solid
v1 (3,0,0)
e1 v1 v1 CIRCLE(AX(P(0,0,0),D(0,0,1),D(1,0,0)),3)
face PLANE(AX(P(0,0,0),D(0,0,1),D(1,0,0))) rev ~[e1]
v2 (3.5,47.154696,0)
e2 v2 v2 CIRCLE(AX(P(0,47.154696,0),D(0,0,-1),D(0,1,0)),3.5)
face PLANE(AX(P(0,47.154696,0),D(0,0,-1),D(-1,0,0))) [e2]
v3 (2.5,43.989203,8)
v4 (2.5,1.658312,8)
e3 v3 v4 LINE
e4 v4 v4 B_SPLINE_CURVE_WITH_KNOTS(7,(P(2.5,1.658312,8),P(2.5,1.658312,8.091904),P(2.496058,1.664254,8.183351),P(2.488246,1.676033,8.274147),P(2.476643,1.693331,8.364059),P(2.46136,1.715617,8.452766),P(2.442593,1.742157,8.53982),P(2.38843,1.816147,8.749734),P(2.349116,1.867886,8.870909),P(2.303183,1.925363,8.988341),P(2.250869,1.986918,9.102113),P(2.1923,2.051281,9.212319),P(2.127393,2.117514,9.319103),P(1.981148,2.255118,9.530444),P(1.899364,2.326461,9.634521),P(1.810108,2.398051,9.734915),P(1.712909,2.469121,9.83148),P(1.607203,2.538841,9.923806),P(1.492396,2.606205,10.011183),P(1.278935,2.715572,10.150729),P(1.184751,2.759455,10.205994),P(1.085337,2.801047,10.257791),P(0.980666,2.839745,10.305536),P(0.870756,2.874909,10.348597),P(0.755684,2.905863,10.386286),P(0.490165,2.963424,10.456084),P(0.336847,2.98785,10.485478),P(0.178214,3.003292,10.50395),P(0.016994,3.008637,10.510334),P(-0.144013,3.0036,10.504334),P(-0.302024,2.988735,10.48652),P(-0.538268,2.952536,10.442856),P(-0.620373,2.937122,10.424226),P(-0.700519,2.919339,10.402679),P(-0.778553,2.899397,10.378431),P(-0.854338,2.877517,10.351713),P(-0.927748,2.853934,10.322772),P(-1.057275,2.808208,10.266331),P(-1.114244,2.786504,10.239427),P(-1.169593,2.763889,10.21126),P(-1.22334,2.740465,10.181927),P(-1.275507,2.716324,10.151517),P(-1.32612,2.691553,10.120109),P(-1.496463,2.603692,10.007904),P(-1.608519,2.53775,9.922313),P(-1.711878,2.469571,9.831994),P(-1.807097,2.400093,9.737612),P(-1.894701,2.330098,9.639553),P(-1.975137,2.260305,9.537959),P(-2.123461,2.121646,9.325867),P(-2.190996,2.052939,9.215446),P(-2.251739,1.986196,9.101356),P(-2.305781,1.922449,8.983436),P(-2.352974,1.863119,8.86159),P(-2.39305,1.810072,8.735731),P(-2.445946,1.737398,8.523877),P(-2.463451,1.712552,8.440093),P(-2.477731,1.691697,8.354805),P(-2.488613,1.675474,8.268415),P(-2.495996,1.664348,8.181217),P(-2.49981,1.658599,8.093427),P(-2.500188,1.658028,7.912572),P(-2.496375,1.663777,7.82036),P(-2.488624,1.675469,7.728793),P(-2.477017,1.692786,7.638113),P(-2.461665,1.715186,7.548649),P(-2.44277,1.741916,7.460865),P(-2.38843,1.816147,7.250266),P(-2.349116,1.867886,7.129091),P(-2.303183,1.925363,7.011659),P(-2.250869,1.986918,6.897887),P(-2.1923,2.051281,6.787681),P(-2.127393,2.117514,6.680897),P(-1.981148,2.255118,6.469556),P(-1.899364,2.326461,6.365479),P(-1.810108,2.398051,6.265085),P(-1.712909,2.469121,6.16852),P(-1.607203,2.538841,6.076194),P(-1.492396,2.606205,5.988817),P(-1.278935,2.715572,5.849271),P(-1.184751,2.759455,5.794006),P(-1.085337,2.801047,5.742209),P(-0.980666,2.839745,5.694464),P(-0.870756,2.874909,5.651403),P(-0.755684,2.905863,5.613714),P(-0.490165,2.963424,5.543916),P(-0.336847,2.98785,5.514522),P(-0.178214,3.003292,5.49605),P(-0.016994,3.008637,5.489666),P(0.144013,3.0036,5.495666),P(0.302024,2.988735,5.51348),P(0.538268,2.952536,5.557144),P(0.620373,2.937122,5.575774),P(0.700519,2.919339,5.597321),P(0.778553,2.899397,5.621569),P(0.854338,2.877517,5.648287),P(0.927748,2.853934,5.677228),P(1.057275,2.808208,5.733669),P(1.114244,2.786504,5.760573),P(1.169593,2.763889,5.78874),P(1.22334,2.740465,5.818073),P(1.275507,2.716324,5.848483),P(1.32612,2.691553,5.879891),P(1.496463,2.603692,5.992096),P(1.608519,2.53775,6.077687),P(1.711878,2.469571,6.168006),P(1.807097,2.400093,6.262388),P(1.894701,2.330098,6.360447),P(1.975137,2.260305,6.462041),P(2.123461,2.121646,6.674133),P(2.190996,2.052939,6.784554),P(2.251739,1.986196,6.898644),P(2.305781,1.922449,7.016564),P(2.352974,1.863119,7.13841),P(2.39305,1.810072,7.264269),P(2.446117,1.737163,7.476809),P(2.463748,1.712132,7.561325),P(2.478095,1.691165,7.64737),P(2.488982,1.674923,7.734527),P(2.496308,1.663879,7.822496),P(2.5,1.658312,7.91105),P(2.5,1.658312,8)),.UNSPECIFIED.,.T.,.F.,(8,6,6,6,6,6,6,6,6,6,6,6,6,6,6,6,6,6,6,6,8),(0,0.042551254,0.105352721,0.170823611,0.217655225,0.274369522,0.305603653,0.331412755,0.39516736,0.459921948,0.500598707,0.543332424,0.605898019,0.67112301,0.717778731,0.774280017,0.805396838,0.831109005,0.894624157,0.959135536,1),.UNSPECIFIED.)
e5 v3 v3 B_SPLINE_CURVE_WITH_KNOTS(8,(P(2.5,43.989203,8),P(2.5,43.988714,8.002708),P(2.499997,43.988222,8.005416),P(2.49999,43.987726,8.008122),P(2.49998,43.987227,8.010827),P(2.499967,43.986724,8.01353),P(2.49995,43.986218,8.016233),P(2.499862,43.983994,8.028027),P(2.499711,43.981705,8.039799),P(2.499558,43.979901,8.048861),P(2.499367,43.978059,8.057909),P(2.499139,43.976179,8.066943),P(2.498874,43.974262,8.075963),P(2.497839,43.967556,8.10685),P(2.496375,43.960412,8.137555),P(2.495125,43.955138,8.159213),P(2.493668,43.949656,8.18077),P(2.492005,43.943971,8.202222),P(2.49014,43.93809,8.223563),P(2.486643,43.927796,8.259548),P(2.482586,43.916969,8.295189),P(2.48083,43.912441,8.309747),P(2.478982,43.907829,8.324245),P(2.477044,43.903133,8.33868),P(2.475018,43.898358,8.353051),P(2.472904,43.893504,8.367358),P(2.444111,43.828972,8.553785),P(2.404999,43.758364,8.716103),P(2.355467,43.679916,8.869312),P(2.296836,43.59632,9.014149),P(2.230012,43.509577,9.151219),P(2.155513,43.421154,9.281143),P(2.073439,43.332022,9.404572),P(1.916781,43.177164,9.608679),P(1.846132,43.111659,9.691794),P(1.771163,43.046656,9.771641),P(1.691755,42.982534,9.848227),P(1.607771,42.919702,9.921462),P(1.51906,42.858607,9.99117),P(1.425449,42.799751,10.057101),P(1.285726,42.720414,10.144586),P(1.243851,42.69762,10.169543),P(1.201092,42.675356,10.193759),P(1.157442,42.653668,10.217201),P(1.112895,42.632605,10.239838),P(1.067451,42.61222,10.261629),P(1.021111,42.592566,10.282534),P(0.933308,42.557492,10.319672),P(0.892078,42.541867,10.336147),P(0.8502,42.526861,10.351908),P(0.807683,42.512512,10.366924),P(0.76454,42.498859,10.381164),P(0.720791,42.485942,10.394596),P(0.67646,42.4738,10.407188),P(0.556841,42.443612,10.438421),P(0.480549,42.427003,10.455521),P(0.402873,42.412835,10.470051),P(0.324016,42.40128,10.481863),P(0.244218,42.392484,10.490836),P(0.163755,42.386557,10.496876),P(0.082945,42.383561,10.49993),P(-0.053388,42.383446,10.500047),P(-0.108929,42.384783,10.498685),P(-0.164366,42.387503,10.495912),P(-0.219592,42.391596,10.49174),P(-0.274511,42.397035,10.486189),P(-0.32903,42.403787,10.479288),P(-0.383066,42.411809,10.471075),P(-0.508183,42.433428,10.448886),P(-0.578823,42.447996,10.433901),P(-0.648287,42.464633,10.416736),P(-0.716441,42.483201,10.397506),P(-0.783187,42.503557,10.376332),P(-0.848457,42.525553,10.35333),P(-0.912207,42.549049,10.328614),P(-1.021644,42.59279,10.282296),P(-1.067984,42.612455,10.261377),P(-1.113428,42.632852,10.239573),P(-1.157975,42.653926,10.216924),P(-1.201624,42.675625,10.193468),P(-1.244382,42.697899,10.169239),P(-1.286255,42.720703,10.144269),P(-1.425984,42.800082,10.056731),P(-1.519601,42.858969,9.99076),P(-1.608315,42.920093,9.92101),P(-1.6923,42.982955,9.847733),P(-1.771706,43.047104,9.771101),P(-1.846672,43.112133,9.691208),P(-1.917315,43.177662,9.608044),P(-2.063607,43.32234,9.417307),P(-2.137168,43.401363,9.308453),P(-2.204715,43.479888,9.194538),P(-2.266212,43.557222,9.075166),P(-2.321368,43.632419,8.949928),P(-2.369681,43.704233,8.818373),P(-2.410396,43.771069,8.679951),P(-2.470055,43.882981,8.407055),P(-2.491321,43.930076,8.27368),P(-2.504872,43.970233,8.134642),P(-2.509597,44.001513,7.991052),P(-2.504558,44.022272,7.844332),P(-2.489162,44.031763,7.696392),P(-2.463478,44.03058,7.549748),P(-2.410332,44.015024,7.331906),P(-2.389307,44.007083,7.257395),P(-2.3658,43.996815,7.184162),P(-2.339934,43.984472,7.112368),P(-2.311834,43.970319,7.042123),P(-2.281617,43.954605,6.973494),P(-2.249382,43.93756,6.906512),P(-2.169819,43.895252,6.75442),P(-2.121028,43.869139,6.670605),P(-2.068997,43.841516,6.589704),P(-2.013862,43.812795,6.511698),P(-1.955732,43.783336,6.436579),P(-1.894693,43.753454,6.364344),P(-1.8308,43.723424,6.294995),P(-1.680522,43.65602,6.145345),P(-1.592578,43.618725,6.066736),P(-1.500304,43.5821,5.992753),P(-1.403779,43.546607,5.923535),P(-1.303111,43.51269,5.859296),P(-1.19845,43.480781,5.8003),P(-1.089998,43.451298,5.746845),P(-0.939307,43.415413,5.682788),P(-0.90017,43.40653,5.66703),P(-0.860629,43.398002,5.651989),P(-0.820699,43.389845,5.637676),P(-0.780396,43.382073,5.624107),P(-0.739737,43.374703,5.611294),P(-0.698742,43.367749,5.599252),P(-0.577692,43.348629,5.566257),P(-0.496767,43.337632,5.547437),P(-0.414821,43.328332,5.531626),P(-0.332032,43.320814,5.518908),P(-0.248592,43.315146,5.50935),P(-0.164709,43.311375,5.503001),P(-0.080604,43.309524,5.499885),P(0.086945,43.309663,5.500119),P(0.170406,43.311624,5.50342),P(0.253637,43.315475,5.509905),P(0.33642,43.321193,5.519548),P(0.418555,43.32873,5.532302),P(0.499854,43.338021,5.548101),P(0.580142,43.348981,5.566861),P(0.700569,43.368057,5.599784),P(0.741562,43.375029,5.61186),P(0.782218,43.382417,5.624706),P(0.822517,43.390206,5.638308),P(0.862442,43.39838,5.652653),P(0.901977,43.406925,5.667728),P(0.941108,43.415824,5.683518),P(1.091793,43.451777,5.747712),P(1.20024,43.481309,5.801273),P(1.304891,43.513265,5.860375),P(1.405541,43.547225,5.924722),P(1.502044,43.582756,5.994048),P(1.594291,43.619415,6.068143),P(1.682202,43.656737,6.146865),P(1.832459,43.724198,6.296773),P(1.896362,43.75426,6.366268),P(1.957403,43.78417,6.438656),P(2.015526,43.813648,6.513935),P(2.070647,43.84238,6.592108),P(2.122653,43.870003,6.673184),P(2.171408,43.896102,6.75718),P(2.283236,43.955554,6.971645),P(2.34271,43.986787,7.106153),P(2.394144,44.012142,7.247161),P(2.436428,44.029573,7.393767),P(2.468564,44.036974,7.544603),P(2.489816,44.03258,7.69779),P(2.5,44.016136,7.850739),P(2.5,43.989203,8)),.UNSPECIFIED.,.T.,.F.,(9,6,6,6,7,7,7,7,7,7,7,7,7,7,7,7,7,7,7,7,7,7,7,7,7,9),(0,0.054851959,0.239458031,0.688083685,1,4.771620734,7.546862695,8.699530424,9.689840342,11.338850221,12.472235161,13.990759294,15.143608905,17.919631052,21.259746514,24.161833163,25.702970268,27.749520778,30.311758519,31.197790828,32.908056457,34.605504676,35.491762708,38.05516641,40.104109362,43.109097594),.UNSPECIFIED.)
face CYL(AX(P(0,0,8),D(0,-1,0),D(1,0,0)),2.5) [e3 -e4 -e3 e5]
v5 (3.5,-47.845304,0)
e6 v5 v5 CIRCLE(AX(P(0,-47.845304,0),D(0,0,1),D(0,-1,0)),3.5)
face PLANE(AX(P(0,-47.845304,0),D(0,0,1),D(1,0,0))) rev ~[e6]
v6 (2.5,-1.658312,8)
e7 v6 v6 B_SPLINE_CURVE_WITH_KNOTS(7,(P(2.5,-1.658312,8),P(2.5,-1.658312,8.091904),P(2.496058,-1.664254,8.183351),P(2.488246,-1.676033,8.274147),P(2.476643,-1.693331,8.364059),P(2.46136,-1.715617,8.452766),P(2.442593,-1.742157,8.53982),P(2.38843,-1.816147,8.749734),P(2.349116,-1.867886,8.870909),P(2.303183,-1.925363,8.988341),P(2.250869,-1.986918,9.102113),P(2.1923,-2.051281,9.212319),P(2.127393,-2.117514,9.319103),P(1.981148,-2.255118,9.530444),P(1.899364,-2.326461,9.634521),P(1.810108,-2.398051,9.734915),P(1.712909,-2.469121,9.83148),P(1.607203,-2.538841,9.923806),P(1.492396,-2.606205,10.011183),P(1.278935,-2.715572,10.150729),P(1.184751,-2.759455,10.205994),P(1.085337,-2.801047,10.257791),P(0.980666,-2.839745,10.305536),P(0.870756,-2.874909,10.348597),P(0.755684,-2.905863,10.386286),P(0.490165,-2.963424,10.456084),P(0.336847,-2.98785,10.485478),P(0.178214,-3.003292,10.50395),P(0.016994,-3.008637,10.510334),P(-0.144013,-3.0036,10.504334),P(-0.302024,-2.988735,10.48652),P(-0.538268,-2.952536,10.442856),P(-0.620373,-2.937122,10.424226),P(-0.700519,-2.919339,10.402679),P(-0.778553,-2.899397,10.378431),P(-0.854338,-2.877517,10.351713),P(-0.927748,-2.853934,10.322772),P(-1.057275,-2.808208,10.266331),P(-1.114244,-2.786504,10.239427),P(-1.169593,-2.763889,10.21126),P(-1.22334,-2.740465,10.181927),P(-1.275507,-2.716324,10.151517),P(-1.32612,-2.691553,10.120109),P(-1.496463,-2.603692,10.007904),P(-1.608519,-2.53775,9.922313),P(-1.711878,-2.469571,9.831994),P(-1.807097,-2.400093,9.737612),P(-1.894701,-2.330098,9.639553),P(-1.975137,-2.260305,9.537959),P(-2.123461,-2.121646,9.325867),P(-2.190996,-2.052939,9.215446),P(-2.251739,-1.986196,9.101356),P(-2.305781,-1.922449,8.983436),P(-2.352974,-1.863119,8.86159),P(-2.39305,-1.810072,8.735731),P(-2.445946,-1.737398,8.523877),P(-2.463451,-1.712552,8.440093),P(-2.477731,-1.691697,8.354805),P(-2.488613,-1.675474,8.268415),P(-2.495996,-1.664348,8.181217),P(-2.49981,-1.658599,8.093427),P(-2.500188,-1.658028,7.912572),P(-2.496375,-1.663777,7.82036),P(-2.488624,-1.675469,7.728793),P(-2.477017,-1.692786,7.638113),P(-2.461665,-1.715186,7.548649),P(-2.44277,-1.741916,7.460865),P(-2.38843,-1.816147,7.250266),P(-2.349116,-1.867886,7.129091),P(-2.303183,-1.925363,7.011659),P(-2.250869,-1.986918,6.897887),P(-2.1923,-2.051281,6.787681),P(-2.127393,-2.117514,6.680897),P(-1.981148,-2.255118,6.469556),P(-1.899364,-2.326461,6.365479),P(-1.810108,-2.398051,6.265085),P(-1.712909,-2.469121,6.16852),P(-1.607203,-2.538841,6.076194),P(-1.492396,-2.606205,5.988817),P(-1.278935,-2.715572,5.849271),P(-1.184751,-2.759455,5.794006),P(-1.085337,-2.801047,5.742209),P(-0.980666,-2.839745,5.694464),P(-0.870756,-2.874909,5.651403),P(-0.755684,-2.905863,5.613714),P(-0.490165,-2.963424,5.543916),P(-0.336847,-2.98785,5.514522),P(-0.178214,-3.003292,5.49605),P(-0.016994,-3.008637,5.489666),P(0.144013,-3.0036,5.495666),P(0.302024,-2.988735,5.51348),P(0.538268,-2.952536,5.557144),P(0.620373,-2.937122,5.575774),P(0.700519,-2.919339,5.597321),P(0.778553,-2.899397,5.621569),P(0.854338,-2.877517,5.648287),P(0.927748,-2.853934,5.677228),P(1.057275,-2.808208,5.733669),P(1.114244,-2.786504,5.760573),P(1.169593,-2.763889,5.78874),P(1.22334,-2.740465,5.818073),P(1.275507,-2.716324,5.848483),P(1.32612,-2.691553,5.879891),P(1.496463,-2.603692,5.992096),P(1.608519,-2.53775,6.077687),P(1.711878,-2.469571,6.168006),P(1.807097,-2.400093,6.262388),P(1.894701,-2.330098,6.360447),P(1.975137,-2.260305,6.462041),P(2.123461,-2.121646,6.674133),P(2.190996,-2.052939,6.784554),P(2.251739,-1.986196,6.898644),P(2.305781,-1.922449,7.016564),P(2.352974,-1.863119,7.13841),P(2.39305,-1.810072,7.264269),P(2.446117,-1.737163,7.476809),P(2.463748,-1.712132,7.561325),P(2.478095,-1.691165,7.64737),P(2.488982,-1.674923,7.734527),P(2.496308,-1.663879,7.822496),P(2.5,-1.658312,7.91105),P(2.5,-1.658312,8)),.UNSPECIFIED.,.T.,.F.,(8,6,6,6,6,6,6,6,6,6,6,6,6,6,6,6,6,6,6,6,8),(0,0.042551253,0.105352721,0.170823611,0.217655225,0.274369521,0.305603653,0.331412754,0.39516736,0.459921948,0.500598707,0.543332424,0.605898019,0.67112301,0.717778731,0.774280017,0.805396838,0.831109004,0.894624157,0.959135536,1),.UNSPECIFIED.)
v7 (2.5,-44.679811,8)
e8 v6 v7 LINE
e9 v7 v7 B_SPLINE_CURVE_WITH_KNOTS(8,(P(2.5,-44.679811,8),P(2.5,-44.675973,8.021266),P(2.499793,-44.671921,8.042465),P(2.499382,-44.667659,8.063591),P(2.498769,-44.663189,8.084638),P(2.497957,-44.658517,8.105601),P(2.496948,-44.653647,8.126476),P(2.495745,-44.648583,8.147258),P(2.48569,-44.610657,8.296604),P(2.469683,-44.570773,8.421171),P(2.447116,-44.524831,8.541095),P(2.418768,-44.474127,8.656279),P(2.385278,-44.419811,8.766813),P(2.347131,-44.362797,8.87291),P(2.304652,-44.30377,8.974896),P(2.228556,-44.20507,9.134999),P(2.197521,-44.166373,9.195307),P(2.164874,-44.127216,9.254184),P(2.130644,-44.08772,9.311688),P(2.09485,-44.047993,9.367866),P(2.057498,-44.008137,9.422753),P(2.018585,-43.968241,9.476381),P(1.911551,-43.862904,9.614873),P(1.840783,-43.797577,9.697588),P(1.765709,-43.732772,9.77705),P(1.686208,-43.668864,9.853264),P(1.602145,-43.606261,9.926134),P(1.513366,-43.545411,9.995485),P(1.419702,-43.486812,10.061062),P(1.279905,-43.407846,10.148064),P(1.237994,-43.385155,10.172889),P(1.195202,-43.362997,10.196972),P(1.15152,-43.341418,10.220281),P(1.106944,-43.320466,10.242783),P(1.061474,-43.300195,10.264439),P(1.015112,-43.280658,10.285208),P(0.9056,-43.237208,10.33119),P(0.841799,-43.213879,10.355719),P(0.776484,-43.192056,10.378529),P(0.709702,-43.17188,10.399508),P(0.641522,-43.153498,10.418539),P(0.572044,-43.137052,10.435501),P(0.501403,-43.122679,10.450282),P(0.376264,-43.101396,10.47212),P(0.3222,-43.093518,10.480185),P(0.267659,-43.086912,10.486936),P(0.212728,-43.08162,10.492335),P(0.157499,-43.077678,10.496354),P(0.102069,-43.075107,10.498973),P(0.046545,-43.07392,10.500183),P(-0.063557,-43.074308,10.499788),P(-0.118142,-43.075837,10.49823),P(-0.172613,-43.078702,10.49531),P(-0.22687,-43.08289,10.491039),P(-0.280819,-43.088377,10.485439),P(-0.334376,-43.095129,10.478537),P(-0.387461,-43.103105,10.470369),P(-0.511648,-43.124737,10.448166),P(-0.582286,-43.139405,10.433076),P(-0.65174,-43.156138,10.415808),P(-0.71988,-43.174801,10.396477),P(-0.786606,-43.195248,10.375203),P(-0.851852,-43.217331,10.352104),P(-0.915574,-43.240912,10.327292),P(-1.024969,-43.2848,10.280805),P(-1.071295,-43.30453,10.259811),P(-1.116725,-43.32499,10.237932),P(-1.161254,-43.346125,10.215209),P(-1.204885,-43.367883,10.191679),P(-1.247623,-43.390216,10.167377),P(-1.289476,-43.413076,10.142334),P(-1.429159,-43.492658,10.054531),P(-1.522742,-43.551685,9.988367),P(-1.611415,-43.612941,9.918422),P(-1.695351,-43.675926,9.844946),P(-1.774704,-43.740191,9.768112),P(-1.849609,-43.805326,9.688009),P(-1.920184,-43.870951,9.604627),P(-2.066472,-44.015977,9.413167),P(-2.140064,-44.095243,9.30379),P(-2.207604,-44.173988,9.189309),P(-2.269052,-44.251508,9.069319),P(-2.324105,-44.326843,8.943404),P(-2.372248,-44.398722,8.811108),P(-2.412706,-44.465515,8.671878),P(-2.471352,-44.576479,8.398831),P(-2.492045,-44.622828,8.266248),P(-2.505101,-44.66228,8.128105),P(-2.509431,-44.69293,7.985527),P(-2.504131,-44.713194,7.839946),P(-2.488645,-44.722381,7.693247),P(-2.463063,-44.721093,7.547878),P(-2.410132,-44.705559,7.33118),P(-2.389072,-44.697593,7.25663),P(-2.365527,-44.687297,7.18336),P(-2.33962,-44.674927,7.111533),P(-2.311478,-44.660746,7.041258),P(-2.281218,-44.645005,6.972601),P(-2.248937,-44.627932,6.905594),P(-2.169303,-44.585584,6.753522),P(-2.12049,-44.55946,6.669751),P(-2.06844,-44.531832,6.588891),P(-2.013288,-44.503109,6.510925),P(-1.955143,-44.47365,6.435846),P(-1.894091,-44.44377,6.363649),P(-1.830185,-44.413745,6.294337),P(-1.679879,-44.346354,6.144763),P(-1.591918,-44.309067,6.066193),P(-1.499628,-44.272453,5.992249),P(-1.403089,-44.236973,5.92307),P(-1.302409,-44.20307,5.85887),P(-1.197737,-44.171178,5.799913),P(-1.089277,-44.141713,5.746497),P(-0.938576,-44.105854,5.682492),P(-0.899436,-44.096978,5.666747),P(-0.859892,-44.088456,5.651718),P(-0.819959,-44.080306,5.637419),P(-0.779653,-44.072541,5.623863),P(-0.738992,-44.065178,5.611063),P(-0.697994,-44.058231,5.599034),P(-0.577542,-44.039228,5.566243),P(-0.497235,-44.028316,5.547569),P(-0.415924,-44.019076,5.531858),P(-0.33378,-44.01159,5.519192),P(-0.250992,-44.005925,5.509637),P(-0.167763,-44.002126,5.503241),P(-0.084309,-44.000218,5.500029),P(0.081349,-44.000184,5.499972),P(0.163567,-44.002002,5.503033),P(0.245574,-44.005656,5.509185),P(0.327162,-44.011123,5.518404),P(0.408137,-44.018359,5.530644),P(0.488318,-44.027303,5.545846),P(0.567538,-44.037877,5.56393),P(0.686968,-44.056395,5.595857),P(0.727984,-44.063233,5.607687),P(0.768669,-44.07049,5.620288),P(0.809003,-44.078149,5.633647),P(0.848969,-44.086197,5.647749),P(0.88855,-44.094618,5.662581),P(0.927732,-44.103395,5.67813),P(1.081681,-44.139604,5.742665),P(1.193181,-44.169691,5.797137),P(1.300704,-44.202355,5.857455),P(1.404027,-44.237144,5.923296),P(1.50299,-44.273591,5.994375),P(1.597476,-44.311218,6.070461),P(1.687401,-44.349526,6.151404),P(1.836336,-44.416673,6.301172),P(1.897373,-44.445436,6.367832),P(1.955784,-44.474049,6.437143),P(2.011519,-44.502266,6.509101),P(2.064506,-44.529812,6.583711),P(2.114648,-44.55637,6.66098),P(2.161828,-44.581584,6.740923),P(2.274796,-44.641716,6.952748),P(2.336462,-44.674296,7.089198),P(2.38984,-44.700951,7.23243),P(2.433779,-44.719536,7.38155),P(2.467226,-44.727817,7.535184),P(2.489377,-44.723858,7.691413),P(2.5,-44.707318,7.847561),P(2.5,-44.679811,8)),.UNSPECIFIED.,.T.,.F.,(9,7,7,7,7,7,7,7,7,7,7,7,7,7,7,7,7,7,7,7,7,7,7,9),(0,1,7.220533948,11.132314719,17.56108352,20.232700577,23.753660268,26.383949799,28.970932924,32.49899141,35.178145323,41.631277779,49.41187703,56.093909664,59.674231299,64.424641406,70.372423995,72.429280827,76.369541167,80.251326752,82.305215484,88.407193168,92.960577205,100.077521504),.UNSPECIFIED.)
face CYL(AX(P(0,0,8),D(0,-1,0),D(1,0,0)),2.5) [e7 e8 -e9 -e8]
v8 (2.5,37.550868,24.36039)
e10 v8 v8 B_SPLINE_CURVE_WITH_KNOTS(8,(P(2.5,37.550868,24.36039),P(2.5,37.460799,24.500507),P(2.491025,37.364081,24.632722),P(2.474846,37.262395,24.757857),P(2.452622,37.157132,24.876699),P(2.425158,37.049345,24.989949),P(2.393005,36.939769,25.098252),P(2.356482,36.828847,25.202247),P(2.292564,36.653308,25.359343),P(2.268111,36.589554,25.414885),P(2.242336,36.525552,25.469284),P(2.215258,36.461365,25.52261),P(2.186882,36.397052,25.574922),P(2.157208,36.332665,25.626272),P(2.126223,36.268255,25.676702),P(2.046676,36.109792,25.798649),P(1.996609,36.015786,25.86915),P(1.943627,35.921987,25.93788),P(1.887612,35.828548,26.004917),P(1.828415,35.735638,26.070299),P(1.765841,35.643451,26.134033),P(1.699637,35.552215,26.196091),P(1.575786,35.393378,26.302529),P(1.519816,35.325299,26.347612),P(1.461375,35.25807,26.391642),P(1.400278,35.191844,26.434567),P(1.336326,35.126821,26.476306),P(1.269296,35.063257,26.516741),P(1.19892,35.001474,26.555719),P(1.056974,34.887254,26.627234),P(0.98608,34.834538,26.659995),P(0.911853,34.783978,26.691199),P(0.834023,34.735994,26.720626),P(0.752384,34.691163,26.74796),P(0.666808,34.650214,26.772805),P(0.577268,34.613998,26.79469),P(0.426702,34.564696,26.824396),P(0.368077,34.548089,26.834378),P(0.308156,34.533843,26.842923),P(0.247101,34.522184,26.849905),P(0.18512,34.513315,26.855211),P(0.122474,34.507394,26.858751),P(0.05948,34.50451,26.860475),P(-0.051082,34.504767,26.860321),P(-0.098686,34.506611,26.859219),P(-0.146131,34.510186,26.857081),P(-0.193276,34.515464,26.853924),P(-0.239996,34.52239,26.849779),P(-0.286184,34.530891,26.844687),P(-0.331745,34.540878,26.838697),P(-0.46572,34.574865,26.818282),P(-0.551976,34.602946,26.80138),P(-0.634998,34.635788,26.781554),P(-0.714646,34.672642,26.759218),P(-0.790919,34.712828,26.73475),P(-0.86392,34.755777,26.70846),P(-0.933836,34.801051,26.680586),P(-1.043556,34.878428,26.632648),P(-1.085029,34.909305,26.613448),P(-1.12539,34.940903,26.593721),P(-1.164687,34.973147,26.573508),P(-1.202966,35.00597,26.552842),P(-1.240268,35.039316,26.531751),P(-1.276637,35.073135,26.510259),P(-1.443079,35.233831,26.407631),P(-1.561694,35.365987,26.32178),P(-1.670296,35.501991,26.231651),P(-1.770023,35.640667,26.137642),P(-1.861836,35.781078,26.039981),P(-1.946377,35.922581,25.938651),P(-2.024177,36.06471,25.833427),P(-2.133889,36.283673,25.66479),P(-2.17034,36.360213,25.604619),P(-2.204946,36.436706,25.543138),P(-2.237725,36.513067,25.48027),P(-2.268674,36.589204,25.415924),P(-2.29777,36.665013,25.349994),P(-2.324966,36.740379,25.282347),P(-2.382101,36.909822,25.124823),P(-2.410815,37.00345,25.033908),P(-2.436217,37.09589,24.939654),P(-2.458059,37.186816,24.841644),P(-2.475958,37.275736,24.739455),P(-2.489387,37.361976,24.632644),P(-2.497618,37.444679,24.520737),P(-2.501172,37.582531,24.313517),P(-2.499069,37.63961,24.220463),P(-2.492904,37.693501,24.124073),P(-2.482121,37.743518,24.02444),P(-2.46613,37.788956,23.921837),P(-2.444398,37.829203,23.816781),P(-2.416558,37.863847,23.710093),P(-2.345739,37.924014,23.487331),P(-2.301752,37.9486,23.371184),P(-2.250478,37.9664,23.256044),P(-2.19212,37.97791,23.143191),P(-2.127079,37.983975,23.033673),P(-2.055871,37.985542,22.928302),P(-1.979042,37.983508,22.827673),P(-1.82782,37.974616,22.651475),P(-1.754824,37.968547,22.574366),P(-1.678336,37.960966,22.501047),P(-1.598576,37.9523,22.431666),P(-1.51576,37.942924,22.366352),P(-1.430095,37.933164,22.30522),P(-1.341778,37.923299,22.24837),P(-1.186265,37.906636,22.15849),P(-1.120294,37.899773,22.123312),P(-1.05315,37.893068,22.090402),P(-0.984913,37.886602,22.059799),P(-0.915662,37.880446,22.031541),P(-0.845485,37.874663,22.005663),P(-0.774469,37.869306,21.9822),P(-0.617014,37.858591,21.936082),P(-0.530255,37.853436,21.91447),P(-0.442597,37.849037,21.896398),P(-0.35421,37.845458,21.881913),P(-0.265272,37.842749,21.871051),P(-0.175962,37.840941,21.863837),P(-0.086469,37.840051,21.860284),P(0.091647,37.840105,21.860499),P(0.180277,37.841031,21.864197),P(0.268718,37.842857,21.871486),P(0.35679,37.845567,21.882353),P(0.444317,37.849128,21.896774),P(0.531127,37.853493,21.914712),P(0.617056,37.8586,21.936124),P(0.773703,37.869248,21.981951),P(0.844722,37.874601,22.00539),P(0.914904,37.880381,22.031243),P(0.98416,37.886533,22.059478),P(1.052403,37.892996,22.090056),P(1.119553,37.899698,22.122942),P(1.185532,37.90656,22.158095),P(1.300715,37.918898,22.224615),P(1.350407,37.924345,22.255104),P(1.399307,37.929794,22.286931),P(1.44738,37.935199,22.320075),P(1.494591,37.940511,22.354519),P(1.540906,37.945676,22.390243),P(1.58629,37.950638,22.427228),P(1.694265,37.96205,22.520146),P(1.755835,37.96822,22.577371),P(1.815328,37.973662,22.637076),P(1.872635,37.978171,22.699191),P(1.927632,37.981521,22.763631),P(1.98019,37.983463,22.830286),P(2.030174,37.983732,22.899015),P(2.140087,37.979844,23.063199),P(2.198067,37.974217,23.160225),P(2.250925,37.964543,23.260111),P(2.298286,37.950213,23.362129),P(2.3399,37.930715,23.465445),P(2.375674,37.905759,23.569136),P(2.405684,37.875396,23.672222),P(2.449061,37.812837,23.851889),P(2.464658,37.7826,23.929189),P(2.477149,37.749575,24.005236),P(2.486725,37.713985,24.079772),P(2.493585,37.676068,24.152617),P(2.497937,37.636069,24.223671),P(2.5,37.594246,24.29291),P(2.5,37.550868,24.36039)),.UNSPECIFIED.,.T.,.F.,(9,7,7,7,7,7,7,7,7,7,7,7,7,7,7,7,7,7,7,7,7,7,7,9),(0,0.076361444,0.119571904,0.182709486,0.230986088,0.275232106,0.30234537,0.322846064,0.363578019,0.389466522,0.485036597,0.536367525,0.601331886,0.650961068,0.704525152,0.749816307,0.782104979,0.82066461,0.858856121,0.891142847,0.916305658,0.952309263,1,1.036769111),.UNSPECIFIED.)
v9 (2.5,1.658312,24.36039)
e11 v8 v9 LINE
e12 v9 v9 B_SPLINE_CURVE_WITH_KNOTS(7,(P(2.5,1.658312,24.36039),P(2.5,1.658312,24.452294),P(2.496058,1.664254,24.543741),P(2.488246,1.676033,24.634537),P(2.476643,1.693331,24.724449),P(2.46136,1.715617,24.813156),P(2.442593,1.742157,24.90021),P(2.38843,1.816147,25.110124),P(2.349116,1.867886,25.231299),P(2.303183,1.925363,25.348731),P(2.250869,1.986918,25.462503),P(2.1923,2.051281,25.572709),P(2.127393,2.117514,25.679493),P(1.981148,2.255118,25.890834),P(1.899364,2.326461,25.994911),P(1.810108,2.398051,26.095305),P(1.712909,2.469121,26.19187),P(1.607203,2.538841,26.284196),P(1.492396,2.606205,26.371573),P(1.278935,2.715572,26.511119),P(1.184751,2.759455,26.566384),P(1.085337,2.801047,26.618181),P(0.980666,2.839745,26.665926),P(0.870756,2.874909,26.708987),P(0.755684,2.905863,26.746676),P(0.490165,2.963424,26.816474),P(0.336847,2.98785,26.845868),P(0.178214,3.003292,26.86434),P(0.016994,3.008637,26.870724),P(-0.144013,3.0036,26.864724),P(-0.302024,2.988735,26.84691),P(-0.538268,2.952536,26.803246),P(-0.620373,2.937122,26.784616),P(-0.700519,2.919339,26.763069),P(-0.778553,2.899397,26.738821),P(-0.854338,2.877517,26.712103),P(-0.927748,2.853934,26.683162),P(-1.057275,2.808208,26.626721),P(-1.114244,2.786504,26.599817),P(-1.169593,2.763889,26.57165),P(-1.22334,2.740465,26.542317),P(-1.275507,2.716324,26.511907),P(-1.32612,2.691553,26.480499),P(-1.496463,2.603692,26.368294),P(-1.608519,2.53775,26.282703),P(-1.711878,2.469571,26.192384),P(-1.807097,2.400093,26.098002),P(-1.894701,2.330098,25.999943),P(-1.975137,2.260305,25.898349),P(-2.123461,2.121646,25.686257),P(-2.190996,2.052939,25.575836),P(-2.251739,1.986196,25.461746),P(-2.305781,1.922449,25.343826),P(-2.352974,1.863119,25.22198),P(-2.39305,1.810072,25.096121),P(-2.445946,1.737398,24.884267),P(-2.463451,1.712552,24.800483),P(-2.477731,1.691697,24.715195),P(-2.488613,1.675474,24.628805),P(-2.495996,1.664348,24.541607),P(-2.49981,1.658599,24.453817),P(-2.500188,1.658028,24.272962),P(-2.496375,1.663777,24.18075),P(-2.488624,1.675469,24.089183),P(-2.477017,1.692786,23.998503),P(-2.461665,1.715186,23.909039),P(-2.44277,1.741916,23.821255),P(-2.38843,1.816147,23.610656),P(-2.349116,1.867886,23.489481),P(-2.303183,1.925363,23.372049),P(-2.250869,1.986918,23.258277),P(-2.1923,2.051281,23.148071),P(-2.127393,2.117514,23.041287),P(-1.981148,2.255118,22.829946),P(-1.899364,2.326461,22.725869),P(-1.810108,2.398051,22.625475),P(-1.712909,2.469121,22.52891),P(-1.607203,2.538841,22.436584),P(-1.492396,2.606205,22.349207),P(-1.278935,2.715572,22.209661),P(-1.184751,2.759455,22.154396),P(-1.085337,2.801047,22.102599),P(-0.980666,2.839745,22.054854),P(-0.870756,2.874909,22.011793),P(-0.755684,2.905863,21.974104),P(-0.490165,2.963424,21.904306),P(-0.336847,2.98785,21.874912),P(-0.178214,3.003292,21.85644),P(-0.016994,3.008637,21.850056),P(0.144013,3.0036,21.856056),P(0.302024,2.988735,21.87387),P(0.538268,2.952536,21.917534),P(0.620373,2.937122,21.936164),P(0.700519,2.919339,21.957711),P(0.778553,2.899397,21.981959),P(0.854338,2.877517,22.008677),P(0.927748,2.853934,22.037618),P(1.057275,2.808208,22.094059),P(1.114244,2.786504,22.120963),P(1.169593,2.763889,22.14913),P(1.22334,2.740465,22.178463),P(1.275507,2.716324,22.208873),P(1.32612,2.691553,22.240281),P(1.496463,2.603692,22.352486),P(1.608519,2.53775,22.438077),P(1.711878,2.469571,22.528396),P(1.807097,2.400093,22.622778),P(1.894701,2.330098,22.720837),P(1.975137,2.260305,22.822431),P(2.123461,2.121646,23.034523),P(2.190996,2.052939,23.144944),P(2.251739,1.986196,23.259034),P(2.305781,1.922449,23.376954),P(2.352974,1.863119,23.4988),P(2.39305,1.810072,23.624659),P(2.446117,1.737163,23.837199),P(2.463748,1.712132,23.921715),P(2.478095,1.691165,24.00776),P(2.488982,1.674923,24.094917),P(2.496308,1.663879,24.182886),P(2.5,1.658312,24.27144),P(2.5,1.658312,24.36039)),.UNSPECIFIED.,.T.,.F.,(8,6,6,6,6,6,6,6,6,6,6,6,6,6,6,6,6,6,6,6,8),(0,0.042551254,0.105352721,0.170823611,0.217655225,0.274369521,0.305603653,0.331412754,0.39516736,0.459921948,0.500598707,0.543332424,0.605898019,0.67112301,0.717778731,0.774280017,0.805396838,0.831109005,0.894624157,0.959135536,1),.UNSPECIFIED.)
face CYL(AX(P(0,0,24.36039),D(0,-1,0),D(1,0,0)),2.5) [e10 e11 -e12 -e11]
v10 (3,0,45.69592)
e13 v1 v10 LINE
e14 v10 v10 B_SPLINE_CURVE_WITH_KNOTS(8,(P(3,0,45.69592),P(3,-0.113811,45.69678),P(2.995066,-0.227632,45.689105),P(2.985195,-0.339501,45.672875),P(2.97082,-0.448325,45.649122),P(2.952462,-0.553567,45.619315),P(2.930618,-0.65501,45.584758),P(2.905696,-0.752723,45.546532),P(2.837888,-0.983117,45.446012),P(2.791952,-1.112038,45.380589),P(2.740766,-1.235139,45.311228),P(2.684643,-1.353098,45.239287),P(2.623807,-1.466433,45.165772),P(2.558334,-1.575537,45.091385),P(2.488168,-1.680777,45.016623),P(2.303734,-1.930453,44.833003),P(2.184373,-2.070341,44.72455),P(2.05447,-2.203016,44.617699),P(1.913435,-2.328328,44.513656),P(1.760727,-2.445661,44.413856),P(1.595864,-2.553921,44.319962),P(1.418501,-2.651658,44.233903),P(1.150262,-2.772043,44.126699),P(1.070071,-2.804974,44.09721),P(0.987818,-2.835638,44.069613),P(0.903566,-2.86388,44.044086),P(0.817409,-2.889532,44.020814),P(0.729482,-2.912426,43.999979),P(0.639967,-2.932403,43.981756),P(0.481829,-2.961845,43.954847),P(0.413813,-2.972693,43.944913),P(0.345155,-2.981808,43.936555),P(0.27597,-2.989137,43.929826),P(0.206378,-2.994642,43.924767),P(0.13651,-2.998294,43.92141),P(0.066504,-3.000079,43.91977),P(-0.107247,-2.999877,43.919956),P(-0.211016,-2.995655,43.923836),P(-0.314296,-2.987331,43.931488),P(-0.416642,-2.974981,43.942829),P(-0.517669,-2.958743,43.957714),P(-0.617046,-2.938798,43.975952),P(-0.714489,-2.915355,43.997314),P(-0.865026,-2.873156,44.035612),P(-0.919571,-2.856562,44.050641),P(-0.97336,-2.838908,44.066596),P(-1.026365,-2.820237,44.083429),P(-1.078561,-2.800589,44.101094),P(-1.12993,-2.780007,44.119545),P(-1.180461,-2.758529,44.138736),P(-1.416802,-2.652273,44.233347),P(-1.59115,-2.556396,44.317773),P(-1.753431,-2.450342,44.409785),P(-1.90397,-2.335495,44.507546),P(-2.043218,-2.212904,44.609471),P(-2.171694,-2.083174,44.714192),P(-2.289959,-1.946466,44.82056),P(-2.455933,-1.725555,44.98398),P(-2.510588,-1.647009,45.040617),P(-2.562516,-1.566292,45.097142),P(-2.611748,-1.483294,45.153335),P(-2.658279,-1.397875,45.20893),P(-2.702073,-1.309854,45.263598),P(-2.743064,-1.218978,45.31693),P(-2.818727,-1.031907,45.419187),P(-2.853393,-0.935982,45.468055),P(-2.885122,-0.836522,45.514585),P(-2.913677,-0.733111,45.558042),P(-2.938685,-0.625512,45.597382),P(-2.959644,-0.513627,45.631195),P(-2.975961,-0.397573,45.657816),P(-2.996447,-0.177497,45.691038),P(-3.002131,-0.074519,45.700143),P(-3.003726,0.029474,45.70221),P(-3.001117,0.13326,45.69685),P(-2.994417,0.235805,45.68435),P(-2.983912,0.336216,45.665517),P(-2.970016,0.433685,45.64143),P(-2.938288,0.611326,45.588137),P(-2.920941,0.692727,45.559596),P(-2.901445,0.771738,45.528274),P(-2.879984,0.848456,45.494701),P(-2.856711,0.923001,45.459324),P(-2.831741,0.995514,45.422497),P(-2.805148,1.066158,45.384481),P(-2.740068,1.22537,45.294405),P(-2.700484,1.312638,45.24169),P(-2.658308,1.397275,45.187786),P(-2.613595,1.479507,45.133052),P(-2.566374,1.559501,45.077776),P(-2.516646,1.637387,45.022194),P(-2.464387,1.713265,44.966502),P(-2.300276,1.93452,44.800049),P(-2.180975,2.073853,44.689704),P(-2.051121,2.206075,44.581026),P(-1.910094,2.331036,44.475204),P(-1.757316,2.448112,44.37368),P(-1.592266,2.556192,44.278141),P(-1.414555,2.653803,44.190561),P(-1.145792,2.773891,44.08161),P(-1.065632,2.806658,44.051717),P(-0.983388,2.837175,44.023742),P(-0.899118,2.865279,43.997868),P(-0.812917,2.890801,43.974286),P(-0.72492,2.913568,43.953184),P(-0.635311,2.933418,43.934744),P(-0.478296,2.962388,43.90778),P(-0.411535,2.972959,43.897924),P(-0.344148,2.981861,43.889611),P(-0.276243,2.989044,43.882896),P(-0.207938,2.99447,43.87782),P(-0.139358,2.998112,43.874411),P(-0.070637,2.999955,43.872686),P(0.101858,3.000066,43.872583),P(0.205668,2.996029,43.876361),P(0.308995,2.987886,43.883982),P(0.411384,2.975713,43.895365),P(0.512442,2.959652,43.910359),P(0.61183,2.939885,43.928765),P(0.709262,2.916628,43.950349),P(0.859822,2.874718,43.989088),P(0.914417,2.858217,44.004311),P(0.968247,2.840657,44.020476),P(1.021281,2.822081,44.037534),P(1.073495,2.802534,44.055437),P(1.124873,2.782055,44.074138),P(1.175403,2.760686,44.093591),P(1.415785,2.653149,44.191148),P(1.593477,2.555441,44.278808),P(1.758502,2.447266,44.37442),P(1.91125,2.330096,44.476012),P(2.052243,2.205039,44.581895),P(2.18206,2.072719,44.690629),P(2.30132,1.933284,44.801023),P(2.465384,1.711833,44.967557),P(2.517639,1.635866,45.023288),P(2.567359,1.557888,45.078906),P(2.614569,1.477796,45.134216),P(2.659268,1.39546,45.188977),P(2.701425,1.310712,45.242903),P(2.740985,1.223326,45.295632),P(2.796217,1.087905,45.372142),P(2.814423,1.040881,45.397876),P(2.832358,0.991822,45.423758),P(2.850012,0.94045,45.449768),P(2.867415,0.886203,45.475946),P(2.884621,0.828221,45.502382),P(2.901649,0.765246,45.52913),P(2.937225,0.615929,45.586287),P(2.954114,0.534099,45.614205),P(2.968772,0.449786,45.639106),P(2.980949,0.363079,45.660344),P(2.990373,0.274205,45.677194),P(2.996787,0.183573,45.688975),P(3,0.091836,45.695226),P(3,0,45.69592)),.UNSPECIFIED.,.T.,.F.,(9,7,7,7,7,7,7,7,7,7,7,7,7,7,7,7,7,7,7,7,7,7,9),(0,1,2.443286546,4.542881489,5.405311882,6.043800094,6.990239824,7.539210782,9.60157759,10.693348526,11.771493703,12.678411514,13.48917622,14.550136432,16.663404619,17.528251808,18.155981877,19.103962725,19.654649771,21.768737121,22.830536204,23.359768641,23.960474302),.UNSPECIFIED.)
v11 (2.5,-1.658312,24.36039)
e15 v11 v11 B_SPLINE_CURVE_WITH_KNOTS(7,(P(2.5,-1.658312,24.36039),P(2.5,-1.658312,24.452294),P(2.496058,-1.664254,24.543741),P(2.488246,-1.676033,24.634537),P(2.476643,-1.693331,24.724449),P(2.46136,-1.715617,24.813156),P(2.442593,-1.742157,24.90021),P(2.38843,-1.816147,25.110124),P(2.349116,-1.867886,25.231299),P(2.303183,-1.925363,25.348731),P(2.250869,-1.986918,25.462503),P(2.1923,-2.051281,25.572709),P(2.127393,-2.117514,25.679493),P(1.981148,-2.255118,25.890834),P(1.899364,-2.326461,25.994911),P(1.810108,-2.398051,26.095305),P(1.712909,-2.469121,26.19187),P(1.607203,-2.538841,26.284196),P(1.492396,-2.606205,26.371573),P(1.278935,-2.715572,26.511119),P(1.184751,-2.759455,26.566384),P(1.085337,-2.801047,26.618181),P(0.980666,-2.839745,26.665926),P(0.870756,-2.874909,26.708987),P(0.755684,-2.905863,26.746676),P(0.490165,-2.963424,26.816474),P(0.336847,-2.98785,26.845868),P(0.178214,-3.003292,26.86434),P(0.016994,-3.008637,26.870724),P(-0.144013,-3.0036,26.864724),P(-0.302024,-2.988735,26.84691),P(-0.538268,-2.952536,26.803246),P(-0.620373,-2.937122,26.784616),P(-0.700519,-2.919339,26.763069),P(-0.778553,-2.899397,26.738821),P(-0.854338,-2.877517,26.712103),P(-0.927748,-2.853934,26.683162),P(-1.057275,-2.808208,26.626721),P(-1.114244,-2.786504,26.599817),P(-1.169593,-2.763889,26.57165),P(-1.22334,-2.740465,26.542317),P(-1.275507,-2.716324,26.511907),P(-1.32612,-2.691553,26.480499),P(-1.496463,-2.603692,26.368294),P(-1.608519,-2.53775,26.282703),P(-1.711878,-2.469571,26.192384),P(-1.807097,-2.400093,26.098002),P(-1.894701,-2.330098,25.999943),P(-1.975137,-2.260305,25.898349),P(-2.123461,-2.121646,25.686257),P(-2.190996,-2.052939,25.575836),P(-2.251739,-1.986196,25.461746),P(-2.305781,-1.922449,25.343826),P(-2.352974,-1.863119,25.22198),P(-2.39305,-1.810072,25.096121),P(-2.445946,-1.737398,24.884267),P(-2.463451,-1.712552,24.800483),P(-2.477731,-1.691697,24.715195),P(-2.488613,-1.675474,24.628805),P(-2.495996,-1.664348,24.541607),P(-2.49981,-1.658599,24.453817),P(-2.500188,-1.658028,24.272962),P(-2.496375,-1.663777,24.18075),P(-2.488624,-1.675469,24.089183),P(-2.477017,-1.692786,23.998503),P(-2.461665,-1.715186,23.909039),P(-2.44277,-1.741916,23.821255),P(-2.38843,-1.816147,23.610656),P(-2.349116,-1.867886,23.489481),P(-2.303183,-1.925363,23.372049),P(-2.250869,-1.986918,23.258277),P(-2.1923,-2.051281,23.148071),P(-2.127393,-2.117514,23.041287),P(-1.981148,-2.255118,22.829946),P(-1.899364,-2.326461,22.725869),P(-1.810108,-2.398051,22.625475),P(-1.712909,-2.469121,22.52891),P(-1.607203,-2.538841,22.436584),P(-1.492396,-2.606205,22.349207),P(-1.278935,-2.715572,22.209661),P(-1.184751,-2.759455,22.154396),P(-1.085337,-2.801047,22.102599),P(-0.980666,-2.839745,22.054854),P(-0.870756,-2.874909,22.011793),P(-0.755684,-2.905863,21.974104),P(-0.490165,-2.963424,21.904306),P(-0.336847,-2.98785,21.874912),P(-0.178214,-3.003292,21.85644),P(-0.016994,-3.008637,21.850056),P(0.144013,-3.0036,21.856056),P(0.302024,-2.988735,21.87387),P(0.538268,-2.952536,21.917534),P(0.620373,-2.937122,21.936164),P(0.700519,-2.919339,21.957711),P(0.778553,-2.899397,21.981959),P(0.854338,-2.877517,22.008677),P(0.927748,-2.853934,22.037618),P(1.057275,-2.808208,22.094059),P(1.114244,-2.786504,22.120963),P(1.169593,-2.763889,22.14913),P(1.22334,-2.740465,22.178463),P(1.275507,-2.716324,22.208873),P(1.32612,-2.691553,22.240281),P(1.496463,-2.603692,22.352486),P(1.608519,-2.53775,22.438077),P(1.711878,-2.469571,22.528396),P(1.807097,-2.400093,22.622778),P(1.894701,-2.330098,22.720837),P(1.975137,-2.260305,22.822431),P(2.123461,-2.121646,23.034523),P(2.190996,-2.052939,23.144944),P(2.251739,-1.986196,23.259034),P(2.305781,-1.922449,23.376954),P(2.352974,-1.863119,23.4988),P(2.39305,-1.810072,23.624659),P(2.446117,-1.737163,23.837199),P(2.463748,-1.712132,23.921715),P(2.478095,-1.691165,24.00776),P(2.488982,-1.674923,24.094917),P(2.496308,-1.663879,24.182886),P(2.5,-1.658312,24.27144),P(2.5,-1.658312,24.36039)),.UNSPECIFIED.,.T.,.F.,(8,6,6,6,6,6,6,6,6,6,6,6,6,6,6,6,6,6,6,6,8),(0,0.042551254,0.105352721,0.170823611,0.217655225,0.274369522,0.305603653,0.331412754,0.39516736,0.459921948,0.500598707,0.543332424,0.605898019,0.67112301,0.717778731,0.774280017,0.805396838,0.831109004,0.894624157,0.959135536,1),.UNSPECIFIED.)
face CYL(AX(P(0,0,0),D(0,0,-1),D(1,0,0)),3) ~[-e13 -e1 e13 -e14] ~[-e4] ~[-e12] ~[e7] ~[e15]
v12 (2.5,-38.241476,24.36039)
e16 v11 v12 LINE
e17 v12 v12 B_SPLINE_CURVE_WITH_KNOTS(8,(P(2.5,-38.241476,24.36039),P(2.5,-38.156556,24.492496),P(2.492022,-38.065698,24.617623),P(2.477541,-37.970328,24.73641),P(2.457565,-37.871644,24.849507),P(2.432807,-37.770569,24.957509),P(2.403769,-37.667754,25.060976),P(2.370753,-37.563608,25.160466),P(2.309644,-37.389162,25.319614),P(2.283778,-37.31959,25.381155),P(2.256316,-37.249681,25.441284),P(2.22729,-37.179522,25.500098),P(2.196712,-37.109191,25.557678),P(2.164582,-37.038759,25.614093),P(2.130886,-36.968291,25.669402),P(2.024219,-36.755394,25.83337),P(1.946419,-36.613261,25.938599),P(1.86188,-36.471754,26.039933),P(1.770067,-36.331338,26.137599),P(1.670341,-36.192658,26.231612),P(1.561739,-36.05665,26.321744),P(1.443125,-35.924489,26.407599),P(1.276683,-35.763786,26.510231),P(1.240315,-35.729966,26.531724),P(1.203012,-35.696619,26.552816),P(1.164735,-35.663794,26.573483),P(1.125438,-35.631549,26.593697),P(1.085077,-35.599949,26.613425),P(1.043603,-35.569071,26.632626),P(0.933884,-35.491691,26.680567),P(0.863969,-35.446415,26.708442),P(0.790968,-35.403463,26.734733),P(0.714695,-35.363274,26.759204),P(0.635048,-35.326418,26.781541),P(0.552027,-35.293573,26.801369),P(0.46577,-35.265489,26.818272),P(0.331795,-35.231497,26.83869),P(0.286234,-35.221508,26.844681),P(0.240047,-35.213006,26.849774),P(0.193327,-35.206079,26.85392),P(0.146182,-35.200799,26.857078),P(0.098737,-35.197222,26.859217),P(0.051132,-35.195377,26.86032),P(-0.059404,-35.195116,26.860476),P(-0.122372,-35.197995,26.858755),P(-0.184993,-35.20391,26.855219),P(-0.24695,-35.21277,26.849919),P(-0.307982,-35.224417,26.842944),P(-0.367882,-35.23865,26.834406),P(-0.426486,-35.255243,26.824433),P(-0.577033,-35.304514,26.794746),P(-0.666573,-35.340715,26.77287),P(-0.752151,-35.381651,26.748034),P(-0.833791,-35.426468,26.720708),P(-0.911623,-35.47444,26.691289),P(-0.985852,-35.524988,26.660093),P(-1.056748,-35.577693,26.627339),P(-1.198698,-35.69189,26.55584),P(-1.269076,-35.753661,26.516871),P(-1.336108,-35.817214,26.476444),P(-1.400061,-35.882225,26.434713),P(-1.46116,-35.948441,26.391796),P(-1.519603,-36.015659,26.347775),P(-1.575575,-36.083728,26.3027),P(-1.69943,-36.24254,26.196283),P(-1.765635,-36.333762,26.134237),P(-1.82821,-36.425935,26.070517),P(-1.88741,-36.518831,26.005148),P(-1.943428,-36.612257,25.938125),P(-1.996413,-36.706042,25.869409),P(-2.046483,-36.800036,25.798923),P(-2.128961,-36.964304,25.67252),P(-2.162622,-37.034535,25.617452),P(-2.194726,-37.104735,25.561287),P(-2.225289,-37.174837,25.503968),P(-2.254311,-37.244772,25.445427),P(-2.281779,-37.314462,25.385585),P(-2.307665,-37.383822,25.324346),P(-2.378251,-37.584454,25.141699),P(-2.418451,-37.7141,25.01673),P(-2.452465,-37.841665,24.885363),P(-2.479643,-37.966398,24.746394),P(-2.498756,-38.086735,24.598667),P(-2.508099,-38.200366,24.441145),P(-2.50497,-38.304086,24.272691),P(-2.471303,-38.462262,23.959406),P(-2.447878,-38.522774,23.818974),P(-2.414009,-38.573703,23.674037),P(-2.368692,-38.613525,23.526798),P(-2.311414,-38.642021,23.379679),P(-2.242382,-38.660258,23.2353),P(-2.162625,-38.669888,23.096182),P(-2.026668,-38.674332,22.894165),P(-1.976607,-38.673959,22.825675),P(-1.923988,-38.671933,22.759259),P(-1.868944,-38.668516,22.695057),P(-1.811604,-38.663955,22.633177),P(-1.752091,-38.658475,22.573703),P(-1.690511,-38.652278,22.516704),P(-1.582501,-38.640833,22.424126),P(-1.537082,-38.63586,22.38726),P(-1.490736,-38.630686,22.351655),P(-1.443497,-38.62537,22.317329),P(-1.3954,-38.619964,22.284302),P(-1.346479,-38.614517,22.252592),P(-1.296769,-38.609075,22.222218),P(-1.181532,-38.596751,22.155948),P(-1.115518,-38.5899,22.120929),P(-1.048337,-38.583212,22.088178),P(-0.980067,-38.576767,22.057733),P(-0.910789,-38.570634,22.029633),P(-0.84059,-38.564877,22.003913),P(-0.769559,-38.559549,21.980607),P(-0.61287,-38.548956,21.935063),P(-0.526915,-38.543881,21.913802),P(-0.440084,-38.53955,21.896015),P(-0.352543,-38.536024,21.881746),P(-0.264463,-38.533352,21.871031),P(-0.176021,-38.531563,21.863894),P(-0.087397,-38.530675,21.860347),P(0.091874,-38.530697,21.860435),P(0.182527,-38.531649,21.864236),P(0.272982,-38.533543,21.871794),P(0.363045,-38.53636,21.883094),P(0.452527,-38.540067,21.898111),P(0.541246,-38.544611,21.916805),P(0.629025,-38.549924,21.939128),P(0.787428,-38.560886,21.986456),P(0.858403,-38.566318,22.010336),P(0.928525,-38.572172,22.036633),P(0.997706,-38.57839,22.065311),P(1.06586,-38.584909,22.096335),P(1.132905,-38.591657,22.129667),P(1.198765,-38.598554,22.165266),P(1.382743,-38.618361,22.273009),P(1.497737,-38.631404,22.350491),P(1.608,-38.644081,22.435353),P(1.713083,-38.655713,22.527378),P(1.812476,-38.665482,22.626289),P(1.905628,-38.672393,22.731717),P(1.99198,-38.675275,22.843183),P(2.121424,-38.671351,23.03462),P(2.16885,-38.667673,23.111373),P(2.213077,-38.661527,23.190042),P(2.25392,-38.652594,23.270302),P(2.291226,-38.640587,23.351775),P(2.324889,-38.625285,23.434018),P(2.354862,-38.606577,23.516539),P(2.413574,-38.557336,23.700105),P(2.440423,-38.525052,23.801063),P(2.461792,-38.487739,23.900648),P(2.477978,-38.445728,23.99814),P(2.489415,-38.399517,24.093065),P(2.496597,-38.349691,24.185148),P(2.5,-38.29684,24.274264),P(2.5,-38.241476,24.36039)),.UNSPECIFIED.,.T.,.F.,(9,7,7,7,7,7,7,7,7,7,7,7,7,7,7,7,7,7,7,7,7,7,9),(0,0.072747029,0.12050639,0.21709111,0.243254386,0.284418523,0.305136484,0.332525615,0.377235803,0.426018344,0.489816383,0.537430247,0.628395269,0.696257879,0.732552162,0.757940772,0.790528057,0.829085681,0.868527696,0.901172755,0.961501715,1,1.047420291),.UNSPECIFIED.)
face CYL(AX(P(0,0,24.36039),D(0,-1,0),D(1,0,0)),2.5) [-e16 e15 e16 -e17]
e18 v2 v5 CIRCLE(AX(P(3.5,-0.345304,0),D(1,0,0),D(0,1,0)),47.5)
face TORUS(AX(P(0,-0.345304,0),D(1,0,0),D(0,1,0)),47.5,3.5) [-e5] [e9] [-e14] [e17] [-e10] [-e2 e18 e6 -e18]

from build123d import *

# Parameters (mm, degrees)
F1_R     = 3.5
F3_R     = 3
F4_DEPTH = 46
F5_R     = 2.5
F6_DEPTH = 40.5
F7_R     = 2.5
F8_DEPTH = 45


with BuildPart() as f2:
    # F2: sweep along a path in F0
    with BuildLine(Plane.YZ) as f2_path:
        ThreePointArc((44.654696, 0), (-0.345304, 45), (-45.345304, 0))
    # F1 (on Top) → F2 (sweep)
    with BuildSketch(Plane.XY):
        with Locations((0, -47.845304)):
            Circle(F1_R)
    sweep(path=f2_path.line)

    # F3 (on Top) → F4 (join)
    with BuildSketch(Plane.XY):
        Circle(F3_R)
    extrude(amount=F4_DEPTH)

    # F5 (on Front) → F6 (join, symmetric)
    with BuildSketch(Plane.XZ):
        with Locations((0, 24.36039)):
            Circle(F5_R)
    extrude(amount=F6_DEPTH, both=True)

    # F7 (on Front) → F8 (join, symmetric)
    with BuildSketch(Plane.XZ):
        with Locations((0, 8)):
            Circle(F7_R)
    extrude(amount=F8_DEPTH, both=True)


solid = f2.part
